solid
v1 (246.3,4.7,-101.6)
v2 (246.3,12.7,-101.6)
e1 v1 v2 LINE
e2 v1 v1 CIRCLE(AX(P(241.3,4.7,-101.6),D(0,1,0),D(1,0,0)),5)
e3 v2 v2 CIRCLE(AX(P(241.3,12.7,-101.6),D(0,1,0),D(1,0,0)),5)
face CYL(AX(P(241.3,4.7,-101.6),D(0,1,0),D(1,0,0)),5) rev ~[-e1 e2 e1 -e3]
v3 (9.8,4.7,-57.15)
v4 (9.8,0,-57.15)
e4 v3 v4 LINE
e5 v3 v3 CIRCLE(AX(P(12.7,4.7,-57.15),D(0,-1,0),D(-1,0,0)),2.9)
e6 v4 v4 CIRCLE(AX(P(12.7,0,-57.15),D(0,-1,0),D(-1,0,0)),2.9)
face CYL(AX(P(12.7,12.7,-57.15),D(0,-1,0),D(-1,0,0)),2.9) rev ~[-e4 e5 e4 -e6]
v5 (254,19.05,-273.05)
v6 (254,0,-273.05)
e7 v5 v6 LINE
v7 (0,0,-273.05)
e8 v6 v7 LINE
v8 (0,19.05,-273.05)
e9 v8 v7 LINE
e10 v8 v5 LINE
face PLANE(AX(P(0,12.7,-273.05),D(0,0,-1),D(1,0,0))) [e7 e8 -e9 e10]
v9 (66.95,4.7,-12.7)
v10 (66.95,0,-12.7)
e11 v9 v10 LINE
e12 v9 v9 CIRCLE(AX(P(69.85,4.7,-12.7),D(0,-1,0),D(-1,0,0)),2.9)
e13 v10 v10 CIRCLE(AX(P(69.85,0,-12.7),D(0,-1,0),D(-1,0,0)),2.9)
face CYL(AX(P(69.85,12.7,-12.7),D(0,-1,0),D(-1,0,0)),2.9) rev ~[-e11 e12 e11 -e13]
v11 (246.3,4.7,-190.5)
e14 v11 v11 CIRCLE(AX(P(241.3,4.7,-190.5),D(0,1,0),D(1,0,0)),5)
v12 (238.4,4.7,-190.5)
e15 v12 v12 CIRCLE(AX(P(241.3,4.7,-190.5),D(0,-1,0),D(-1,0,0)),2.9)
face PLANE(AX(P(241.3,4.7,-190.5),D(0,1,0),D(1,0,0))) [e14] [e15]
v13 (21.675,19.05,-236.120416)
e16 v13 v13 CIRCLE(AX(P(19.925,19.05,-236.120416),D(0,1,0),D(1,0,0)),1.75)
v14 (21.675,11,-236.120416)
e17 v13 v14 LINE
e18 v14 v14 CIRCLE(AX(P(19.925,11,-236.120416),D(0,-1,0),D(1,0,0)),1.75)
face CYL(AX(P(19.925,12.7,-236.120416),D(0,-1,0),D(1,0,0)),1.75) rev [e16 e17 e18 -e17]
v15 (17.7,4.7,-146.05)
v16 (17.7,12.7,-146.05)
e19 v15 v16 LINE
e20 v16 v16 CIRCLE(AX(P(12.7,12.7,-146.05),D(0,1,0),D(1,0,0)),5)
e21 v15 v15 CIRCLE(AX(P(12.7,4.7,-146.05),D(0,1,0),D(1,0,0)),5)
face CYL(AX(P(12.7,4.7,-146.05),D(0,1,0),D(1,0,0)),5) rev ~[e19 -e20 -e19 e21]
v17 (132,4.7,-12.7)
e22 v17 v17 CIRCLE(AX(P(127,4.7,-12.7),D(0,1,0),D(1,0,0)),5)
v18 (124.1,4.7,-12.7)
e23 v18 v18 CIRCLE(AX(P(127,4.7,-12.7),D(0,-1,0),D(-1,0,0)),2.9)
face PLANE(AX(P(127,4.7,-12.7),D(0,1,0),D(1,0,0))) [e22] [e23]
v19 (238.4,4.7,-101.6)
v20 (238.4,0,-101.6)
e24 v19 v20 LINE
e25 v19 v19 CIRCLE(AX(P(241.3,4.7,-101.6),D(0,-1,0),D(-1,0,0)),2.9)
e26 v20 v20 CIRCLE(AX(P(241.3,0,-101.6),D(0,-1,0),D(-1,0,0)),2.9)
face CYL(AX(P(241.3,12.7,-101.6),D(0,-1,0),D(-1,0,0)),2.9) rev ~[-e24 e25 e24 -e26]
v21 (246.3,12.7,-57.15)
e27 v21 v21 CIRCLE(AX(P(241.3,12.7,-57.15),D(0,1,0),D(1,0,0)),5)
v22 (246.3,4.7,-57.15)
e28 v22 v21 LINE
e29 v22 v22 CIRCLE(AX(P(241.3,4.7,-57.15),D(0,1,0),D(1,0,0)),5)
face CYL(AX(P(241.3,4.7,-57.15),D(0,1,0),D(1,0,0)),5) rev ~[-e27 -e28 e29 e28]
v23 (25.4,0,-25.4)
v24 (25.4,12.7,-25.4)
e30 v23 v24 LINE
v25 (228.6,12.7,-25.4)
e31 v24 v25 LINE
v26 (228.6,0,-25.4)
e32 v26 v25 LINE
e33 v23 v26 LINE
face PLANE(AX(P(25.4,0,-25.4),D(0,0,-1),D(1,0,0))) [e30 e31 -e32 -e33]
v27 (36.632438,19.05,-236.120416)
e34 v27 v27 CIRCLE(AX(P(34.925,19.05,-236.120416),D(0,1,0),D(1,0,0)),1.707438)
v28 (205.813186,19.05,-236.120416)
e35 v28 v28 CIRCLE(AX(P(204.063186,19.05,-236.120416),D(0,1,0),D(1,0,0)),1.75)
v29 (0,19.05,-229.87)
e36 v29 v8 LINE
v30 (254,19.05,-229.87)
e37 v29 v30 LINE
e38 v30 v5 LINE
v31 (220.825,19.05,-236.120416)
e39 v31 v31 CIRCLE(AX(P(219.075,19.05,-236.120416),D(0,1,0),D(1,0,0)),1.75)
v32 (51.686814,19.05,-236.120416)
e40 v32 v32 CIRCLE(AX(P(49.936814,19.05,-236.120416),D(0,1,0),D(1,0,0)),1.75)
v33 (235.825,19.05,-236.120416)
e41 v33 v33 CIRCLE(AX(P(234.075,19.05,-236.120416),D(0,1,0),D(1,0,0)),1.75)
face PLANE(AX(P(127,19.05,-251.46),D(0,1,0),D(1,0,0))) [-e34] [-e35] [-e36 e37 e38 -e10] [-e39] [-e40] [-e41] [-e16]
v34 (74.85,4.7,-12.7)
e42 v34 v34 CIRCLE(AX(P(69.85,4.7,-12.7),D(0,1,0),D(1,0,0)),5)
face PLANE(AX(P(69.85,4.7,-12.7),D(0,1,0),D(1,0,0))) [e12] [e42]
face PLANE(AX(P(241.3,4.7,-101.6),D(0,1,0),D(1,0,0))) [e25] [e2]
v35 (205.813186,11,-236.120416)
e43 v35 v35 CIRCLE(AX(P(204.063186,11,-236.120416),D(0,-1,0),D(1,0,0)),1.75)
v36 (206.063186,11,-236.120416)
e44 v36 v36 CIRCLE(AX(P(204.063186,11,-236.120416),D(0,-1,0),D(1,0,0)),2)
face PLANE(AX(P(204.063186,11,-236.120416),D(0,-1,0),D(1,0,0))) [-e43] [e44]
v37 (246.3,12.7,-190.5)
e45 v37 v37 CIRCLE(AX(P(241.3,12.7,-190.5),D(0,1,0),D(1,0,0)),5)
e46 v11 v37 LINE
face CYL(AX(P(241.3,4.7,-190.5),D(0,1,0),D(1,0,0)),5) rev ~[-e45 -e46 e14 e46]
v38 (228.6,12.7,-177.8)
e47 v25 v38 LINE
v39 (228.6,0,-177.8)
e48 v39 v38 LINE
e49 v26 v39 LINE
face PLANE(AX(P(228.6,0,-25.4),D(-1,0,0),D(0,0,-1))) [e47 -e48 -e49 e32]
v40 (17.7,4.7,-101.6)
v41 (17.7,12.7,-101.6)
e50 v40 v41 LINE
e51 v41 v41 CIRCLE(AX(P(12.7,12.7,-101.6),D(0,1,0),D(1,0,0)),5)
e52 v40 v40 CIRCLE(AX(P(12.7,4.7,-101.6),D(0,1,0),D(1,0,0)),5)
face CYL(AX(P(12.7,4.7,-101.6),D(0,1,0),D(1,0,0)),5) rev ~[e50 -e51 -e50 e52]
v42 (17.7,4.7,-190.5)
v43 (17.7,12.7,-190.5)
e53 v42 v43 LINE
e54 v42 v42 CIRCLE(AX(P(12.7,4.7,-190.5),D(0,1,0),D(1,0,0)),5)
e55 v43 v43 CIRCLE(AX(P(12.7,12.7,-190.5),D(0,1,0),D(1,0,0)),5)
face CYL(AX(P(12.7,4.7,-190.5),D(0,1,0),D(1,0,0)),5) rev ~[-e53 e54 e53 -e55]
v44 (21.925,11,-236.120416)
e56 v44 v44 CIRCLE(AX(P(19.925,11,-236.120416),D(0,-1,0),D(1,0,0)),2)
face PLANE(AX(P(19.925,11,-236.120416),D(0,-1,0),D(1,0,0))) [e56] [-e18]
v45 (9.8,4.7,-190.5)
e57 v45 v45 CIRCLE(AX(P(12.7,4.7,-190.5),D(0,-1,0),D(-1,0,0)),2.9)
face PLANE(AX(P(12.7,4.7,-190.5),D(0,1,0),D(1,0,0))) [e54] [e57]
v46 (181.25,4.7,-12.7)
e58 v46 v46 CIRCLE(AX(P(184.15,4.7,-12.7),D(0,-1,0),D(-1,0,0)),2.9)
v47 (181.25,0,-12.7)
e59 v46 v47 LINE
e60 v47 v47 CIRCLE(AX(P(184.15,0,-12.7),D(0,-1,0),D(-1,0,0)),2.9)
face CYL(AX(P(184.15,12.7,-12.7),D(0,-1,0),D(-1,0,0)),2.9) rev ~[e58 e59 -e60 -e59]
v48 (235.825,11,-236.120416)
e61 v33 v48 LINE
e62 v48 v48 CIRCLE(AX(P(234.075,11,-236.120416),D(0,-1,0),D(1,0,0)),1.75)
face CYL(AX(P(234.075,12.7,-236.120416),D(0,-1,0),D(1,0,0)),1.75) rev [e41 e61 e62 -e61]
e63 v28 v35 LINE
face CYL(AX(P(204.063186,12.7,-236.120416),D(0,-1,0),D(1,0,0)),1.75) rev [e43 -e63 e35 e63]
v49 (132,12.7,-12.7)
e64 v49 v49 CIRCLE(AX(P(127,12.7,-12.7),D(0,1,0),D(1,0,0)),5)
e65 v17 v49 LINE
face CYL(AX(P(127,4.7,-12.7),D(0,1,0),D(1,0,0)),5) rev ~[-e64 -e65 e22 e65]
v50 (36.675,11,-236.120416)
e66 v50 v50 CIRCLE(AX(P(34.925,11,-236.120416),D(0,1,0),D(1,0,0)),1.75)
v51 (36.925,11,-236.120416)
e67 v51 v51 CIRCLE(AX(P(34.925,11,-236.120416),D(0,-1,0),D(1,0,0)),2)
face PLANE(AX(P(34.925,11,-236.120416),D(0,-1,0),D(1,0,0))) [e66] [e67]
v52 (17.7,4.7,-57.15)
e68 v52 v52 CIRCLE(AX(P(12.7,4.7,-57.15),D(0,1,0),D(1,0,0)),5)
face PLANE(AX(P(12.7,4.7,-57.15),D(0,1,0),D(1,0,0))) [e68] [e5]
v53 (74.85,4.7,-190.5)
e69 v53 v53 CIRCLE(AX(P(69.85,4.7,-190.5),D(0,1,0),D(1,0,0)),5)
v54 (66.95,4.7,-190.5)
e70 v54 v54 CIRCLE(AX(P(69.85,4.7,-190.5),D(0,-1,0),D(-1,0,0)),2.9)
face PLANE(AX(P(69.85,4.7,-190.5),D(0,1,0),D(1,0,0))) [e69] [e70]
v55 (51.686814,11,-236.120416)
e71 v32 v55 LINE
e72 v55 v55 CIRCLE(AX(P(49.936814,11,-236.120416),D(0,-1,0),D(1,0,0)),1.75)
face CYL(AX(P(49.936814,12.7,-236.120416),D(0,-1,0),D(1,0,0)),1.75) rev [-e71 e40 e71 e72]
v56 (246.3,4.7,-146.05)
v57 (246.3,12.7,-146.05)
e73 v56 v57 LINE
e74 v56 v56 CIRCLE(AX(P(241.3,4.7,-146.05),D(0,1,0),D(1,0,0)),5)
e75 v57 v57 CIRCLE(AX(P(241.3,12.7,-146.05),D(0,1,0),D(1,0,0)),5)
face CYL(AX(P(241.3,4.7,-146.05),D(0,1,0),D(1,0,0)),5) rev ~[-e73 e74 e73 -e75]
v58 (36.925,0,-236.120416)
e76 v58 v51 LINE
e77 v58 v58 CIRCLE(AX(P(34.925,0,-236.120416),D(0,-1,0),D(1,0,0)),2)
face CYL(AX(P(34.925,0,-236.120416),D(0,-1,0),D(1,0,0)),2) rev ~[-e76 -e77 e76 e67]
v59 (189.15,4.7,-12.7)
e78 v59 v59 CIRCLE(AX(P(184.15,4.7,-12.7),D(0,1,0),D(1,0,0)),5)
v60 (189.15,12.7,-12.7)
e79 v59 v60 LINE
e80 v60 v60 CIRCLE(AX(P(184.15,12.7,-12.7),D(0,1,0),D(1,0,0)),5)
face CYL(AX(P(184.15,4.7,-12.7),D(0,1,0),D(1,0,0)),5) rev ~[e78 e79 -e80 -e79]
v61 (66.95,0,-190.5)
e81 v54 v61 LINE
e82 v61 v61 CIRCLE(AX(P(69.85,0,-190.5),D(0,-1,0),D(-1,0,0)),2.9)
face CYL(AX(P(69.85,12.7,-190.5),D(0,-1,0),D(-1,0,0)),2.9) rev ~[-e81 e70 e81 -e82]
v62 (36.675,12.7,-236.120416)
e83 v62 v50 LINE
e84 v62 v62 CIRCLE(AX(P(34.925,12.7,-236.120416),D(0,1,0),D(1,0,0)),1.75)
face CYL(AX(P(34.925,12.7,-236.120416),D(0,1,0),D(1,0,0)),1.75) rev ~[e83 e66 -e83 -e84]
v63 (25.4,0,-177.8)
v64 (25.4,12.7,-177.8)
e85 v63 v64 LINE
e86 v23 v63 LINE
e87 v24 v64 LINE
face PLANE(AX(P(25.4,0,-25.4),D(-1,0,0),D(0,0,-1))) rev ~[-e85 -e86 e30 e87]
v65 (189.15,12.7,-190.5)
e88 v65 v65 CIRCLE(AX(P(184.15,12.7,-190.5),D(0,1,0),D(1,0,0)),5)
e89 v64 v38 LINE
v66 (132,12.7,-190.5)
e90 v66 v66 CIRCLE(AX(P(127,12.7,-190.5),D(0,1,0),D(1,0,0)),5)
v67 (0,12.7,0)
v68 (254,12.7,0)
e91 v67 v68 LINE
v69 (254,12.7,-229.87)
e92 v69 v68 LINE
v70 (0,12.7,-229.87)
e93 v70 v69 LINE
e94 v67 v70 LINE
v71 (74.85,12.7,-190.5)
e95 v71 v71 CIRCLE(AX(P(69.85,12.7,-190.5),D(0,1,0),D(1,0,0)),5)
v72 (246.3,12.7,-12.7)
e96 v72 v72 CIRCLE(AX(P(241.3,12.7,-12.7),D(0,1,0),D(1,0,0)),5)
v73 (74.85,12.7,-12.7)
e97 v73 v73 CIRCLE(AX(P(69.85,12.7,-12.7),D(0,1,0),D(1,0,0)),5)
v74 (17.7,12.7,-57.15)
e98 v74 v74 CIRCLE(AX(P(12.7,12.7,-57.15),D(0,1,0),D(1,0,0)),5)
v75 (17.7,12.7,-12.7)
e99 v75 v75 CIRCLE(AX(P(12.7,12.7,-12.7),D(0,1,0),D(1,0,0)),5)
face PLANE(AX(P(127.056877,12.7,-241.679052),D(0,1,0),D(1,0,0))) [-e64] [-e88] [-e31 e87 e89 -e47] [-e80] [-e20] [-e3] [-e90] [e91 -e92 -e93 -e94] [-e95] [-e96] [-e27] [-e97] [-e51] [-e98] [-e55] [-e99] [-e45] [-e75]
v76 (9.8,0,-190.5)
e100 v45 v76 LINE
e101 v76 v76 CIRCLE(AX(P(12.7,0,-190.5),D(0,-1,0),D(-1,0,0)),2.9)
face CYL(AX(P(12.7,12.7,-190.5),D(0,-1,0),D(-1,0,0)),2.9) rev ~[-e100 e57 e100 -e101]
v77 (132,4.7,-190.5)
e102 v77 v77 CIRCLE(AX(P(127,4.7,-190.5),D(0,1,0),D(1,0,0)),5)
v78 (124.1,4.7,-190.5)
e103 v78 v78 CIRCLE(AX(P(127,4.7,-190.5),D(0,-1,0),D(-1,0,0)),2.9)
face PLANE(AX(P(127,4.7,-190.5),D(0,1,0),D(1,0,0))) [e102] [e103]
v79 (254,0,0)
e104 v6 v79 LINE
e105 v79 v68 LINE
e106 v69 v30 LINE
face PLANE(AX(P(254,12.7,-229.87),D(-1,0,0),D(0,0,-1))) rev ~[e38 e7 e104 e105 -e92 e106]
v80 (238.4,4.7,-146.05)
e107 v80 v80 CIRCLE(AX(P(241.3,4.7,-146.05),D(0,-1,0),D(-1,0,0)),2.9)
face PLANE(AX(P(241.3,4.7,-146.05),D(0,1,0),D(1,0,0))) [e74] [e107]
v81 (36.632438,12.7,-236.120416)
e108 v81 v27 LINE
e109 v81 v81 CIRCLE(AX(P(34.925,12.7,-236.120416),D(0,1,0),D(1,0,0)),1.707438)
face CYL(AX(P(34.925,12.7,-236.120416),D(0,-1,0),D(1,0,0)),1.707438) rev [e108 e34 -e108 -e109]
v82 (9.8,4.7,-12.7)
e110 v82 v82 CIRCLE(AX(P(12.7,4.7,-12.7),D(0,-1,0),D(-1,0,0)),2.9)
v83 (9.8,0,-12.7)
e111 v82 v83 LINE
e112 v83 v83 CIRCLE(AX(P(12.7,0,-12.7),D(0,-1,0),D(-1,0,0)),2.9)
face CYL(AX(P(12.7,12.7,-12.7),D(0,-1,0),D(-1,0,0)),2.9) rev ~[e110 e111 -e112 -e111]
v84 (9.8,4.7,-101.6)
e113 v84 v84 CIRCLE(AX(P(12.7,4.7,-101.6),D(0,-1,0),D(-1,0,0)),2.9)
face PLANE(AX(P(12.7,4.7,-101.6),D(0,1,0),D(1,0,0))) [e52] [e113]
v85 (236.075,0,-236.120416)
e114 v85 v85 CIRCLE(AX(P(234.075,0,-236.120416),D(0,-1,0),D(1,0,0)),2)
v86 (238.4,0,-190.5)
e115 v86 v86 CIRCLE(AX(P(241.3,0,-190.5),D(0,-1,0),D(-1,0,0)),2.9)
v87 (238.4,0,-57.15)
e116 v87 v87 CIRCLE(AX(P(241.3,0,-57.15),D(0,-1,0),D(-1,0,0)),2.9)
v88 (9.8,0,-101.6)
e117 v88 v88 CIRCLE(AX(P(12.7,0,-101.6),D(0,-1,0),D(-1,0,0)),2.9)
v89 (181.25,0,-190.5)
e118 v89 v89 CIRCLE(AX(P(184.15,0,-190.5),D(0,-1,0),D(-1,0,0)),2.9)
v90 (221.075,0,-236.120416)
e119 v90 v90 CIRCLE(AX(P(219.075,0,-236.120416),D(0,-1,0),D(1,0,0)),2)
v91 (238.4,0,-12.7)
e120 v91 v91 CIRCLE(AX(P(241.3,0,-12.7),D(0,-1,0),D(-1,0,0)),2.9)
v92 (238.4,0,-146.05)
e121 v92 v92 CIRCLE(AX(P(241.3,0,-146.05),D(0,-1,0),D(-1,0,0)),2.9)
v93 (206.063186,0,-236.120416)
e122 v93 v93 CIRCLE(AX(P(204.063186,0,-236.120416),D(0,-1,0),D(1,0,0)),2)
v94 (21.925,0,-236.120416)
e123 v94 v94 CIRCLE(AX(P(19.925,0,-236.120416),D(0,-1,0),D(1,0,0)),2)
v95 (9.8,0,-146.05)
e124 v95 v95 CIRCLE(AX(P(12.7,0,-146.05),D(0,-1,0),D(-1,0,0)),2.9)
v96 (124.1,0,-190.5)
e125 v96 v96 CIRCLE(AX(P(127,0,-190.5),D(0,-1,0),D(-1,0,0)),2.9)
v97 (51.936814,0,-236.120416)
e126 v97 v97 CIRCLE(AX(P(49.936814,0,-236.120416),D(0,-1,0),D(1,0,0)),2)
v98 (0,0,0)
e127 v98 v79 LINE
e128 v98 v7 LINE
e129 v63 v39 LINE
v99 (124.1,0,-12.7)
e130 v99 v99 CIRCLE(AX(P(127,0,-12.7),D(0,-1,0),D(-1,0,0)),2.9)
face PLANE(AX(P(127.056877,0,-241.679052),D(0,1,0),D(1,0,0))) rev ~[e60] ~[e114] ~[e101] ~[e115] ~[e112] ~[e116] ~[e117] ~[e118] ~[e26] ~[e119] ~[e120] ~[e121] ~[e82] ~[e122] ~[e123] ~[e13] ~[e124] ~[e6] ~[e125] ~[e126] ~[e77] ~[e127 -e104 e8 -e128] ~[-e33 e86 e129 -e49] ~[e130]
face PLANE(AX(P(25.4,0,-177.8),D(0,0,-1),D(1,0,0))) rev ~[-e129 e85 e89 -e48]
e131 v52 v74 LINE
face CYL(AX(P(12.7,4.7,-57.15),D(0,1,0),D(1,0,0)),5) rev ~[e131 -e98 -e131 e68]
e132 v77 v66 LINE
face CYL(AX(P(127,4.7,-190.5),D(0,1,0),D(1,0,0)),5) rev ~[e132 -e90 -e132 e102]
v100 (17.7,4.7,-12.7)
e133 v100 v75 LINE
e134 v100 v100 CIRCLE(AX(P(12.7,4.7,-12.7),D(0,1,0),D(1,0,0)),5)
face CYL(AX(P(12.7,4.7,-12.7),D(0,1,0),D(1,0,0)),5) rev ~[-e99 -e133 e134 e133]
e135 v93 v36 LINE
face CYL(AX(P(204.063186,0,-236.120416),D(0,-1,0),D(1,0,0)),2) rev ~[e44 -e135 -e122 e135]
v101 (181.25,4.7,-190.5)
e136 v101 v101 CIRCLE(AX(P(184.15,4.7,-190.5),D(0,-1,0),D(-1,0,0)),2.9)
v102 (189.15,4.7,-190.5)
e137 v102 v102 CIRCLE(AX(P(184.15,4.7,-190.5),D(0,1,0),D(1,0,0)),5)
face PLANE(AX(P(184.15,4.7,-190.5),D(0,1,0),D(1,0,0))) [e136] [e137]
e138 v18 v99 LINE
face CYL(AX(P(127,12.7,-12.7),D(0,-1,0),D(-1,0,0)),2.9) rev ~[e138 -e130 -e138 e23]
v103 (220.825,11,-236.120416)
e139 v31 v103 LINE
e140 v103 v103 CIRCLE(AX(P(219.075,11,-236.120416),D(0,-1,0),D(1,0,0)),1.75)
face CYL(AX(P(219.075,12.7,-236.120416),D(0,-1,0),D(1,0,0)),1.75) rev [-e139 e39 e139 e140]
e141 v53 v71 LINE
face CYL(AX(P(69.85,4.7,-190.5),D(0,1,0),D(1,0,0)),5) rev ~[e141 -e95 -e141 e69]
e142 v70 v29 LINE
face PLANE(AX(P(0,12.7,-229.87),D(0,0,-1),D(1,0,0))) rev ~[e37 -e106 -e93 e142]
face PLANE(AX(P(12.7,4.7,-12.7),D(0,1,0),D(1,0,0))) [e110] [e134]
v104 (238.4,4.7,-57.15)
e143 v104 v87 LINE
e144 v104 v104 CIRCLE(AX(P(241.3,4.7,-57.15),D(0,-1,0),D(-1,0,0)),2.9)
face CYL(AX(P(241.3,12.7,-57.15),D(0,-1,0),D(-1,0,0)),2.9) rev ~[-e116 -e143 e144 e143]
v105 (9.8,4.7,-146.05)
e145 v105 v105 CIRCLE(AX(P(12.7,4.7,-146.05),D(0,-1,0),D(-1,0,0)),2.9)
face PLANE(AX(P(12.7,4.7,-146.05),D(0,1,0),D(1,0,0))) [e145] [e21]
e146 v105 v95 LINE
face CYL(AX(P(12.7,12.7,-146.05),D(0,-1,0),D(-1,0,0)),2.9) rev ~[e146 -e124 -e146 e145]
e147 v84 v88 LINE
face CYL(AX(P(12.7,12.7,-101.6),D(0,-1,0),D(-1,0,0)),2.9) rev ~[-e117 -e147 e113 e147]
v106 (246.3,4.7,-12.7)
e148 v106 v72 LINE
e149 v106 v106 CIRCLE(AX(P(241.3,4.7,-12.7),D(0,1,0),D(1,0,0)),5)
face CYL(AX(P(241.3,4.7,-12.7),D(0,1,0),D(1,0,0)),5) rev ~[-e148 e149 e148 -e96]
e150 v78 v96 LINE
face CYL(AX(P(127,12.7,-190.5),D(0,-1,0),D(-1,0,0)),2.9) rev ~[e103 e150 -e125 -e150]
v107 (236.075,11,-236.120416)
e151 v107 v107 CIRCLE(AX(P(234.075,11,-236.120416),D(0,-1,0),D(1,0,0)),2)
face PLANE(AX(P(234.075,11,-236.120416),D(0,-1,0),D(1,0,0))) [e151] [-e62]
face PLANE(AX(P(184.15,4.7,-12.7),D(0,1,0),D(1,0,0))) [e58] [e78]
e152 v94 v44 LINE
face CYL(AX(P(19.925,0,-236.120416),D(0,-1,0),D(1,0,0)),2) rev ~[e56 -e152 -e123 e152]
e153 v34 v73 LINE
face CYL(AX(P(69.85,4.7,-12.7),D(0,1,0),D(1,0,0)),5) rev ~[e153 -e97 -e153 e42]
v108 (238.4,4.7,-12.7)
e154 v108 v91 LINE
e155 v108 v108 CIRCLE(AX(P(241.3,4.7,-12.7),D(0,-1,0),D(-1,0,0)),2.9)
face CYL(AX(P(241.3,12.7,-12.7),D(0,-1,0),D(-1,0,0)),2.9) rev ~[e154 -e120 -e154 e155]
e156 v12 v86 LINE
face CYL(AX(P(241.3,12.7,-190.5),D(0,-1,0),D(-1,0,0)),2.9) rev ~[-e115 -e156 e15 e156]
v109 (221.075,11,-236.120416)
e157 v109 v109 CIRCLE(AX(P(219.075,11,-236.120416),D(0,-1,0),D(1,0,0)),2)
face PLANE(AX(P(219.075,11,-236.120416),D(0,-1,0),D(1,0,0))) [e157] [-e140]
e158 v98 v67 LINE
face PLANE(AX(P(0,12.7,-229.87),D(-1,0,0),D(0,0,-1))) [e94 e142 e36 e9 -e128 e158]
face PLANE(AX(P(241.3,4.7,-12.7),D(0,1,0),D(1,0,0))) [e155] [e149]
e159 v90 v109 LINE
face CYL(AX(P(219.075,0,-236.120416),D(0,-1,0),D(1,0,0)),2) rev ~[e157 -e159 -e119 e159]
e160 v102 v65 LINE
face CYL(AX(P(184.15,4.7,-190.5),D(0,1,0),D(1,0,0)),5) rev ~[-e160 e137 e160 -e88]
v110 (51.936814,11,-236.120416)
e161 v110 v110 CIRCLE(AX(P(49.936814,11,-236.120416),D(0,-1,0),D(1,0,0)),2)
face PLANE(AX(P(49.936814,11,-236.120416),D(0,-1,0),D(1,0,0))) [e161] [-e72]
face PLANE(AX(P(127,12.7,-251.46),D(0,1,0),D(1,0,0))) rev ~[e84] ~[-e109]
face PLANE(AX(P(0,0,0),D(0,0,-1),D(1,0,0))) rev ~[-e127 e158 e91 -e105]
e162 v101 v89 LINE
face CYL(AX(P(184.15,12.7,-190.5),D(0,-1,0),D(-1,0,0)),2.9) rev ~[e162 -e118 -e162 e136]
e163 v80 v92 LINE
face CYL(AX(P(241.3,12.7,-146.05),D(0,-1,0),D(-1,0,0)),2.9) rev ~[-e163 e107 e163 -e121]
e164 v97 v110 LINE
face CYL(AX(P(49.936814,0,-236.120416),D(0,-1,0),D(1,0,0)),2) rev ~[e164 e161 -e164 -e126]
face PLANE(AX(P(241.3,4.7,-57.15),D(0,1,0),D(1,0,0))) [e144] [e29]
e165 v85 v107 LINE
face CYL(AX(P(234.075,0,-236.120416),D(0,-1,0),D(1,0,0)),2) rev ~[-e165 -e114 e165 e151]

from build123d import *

# Parameters (mm, degrees)
SKETCH1_W                      = 254
SKETCH1_H                      = 203.2
SKETCH1_R                      = 3.05
SKETCH1_W_2                    = 203.2
SKETCH1_H_2                    = 152.4
BOSS_EXTRUDE1_DEPTH            = 12.7
SKETCH5_W                      = 254
SKETCH5_H                      = 19.05
BOSS_EXTRUDE3_DEPTH            = 12.7
SKETCH6_R                      = 2
CUT_EXTRUDE2_DEPTH             = 4.5
SKETCH7_R                      = 1.75
CUT_EXTRUDE3_DEPTH             = 4.5
SKETCH8_R                      = 1.75
SKETCH8_W                      = 14.64249385
SKETCH8_H                      = 9.353844035
SKETCH8_W_2                    = 16.268144154
SKETCH8_W_3                    = 13.224120591
SKETCH8_H_2                    = 10.411082314
BOSS_EXTRUDE4_DEPTH            = 12.7
SKETCH9_W                      = 254
SKETCH9_H                      = 43.18
SKETCH9_R                      = 1.75
SKETCH9_R_2                    = 1.707438486
BOSS_EXTRUDE5_DEPTH            = 6.35
CBORE_FOR_M5_SHCS2_D           = 5.8
CBORE_FOR_M5_SHCS2_CBORE_D     = 10
CBORE_FOR_M5_SHCS2_CBORE_DEPTH = 8
SKETCH12_R                     = 2
CUT_EXTRUDE4_DEPTH             = 11


with BuildPart() as part:
    # Sketch1 → Boss-Extrude1 (new body)
    with BuildSketch(Plane(origin=(0, 0, 0), x_dir=(1, 0, 0), z_dir=(0, 1, 0))):
        with Locations((127, 101.6)):
            Rectangle(SKETCH1_W, SKETCH1_H)
        with Locations((12.7, 190.5)):
            Circle(SKETCH1_R, mode=Mode.SUBTRACT)
        with Locations((241.3, 190.5)):
            Circle(SKETCH1_R, mode=Mode.SUBTRACT)
        with Locations((241.3, 12.7)):
            Circle(SKETCH1_R, mode=Mode.SUBTRACT)
        with Locations((12.7, 12.7)):
            Circle(SKETCH1_R, mode=Mode.SUBTRACT)
        with Locations((127, 101.6)):
            Rectangle(SKETCH1_W_2, SKETCH1_H_2, mode=Mode.SUBTRACT)
    extrude(amount=BOSS_EXTRUDE1_DEPTH)

    # Sketch5 → Boss-Extrude3 (add)
    with BuildSketch(Plane.XZ):
        with Locations((127, -212.725)):
            Rectangle(SKETCH5_W, SKETCH5_H)
    extrude(amount=-BOSS_EXTRUDE3_DEPTH)

    # Sketch6 → Cut-Extrude2 (cut)
    with BuildSketch(Plane(origin=(0, 12.7, 0), x_dir=(1, 0, 0), z_dir=(0, 1, 0))):
        with Locations((19.924999942, 216.120415829)):
            Circle(SKETCH6_R)
        with Locations((34.924999942, 216.120415829)):
            Circle(SKETCH6_R)
        with Locations((49.936813619, 216.120415829)):
            Circle(SKETCH6_R)
        with Locations((204.063186381, 216.120415829)):
            Circle(SKETCH6_R)
        with Locations((219.075000058, 216.120415829)):
            Circle(SKETCH6_R)
        with Locations((234.075000058, 216.120415829)):
            Circle(SKETCH6_R)
    extrude(amount=-CUT_EXTRUDE2_DEPTH, mode=Mode.SUBTRACT)

    # Sketch7 → Cut-Extrude3 (cut)
    with BuildSketch(Plane(origin=(0, 8.2, 0), x_dir=(1, 0, 0), z_dir=(0, 1, 0))):
        with Locations((19.924999942, 216.120415829)):
            Circle(SKETCH7_R)
        with Locations((34.924999942, 216.120415829)):
            Circle(SKETCH7_R)
        with Locations((49.936813619, 216.120415829)):
            Circle(SKETCH7_R)
        with Locations((204.063186381, 216.120415829)):
            Circle(SKETCH7_R)
        with Locations((219.075000058, 216.120415829)):
            Circle(SKETCH7_R)
        with Locations((234.075000058, 216.120415829)):
            Circle(SKETCH7_R)
    extrude(amount=-CUT_EXTRUDE3_DEPTH, mode=Mode.SUBTRACT)

    # Sketch8 → Boss-Extrude4 (add)
    with BuildSketch(Plane(origin=(0, 12.7, 0), x_dir=(1, 0, 0), z_dir=(0, 1, 0))):
        Polygon((0, 222.25), (13.150330977, 222.25), (13.150330977, 209.354277193), (243.652075008, 209.354277193), (243.652075008, 222.25), (254, 222.25), (254, 273.05), (0, 273.05), align=None)
        with Locations((49.936813619, 236.120415829)):
            Circle(SKETCH8_R, mode=Mode.SUBTRACT)
        with Locations((34.924999942, 236.120415829)):
            Circle(SKETCH8_R, mode=Mode.SUBTRACT)
        with Locations((19.924999942, 236.120415829)):
            Circle(SKETCH8_R, mode=Mode.SUBTRACT)
        with Locations((204.063186381, 236.120415829)):
            Circle(SKETCH8_R, mode=Mode.SUBTRACT)
        with Locations((219.075000058, 236.120415829)):
            Circle(SKETCH8_R, mode=Mode.SUBTRACT)
        with Locations((234.075000058, 236.120415829)):
            Circle(SKETCH8_R, mode=Mode.SUBTRACT)
        with Locations((12.603753017, 189.643423316)):
            Rectangle(SKETCH8_W, SKETCH8_H)
        with Locations((239.165048572, 189.643423316)):
            Rectangle(SKETCH8_W_2, SKETCH8_H)
        with Locations((240.687060353, 12.36659945)):
            Rectangle(SKETCH8_W_3, SKETCH8_H_2)
        with Locations((12.603753017, 12.36659945)):
            Rectangle(SKETCH8_W, SKETCH8_H_2)
    extrude(amount=-BOSS_EXTRUDE4_DEPTH)

    # Sketch9 → Boss-Extrude5 (add)
    with BuildSketch(Plane(origin=(0, 12.7, 0), x_dir=(1, 0, 0), z_dir=(0, 1, 0))):
        with Locations((127, 251.46)):
            Rectangle(SKETCH9_W, SKETCH9_H)
        with Locations((19.924999942, 236.120415829)):
            Circle(SKETCH9_R, mode=Mode.SUBTRACT)
        with Locations((34.924999942, 236.120415829)):
            Circle(SKETCH9_R_2, mode=Mode.SUBTRACT)
        with Locations((49.936813619, 236.120415829)):
            Circle(SKETCH9_R, mode=Mode.SUBTRACT)
        with Locations((204.063186381, 236.120415829)):
            Circle(SKETCH9_R, mode=Mode.SUBTRACT)
        with Locations((219.075000058, 236.120415829)):
            Circle(SKETCH9_R, mode=Mode.SUBTRACT)
        with Locations((234.075000058, 236.120415829)):
            Circle(SKETCH9_R, mode=Mode.SUBTRACT)
    extrude(amount=BOSS_EXTRUDE5_DEPTH)

    # CBORE for M5 SHCS2 (through all)
    with Locations(Plane(origin=(0, 12.7, 0), x_dir=(1, 0, 0), z_dir=(0, 1, 0))):
        with Locations((12.7, 101.6), (241.3, 190.5), (12.7, 12.7), (12.7, 190.5), (127, 190.5), (127, 12.7), (241.3, 12.7), (184.15, 190.5), (184.15, 12.7), (69.85, 12.7), (69.85, 190.5), (12.7, 146.05), (12.7, 57.15), (241.3, 57.15), (241.3, 146.05), (241.3, 101.6)):
            CounterBoreHole(CBORE_FOR_M5_SHCS2_D / 2, CBORE_FOR_M5_SHCS2_CBORE_D / 2, CBORE_FOR_M5_SHCS2_CBORE_DEPTH)

    # Sketch12 → Cut-Extrude4 (cut)
    with BuildSketch(Plane.XZ):
        with Locations((219.075000058, -236.120415829)):
            Circle(SKETCH12_R)
        with Locations((204.063186381, -236.120415829)):
            Circle(SKETCH12_R)
        with Locations((49.936813619, -236.120415829)):
            Circle(SKETCH12_R)
        with Locations((34.924999942, -236.120415829)):
            Circle(SKETCH12_R)
        with Locations((19.924999942, -236.120415829)):
            Circle(SKETCH12_R)
        with Locations((234.075000058, -236.120415829)):
            Circle(SKETCH12_R)
    extrude(amount=-CUT_EXTRUDE4_DEPTH, mode=Mode.SUBTRACT)


solid = part.part
